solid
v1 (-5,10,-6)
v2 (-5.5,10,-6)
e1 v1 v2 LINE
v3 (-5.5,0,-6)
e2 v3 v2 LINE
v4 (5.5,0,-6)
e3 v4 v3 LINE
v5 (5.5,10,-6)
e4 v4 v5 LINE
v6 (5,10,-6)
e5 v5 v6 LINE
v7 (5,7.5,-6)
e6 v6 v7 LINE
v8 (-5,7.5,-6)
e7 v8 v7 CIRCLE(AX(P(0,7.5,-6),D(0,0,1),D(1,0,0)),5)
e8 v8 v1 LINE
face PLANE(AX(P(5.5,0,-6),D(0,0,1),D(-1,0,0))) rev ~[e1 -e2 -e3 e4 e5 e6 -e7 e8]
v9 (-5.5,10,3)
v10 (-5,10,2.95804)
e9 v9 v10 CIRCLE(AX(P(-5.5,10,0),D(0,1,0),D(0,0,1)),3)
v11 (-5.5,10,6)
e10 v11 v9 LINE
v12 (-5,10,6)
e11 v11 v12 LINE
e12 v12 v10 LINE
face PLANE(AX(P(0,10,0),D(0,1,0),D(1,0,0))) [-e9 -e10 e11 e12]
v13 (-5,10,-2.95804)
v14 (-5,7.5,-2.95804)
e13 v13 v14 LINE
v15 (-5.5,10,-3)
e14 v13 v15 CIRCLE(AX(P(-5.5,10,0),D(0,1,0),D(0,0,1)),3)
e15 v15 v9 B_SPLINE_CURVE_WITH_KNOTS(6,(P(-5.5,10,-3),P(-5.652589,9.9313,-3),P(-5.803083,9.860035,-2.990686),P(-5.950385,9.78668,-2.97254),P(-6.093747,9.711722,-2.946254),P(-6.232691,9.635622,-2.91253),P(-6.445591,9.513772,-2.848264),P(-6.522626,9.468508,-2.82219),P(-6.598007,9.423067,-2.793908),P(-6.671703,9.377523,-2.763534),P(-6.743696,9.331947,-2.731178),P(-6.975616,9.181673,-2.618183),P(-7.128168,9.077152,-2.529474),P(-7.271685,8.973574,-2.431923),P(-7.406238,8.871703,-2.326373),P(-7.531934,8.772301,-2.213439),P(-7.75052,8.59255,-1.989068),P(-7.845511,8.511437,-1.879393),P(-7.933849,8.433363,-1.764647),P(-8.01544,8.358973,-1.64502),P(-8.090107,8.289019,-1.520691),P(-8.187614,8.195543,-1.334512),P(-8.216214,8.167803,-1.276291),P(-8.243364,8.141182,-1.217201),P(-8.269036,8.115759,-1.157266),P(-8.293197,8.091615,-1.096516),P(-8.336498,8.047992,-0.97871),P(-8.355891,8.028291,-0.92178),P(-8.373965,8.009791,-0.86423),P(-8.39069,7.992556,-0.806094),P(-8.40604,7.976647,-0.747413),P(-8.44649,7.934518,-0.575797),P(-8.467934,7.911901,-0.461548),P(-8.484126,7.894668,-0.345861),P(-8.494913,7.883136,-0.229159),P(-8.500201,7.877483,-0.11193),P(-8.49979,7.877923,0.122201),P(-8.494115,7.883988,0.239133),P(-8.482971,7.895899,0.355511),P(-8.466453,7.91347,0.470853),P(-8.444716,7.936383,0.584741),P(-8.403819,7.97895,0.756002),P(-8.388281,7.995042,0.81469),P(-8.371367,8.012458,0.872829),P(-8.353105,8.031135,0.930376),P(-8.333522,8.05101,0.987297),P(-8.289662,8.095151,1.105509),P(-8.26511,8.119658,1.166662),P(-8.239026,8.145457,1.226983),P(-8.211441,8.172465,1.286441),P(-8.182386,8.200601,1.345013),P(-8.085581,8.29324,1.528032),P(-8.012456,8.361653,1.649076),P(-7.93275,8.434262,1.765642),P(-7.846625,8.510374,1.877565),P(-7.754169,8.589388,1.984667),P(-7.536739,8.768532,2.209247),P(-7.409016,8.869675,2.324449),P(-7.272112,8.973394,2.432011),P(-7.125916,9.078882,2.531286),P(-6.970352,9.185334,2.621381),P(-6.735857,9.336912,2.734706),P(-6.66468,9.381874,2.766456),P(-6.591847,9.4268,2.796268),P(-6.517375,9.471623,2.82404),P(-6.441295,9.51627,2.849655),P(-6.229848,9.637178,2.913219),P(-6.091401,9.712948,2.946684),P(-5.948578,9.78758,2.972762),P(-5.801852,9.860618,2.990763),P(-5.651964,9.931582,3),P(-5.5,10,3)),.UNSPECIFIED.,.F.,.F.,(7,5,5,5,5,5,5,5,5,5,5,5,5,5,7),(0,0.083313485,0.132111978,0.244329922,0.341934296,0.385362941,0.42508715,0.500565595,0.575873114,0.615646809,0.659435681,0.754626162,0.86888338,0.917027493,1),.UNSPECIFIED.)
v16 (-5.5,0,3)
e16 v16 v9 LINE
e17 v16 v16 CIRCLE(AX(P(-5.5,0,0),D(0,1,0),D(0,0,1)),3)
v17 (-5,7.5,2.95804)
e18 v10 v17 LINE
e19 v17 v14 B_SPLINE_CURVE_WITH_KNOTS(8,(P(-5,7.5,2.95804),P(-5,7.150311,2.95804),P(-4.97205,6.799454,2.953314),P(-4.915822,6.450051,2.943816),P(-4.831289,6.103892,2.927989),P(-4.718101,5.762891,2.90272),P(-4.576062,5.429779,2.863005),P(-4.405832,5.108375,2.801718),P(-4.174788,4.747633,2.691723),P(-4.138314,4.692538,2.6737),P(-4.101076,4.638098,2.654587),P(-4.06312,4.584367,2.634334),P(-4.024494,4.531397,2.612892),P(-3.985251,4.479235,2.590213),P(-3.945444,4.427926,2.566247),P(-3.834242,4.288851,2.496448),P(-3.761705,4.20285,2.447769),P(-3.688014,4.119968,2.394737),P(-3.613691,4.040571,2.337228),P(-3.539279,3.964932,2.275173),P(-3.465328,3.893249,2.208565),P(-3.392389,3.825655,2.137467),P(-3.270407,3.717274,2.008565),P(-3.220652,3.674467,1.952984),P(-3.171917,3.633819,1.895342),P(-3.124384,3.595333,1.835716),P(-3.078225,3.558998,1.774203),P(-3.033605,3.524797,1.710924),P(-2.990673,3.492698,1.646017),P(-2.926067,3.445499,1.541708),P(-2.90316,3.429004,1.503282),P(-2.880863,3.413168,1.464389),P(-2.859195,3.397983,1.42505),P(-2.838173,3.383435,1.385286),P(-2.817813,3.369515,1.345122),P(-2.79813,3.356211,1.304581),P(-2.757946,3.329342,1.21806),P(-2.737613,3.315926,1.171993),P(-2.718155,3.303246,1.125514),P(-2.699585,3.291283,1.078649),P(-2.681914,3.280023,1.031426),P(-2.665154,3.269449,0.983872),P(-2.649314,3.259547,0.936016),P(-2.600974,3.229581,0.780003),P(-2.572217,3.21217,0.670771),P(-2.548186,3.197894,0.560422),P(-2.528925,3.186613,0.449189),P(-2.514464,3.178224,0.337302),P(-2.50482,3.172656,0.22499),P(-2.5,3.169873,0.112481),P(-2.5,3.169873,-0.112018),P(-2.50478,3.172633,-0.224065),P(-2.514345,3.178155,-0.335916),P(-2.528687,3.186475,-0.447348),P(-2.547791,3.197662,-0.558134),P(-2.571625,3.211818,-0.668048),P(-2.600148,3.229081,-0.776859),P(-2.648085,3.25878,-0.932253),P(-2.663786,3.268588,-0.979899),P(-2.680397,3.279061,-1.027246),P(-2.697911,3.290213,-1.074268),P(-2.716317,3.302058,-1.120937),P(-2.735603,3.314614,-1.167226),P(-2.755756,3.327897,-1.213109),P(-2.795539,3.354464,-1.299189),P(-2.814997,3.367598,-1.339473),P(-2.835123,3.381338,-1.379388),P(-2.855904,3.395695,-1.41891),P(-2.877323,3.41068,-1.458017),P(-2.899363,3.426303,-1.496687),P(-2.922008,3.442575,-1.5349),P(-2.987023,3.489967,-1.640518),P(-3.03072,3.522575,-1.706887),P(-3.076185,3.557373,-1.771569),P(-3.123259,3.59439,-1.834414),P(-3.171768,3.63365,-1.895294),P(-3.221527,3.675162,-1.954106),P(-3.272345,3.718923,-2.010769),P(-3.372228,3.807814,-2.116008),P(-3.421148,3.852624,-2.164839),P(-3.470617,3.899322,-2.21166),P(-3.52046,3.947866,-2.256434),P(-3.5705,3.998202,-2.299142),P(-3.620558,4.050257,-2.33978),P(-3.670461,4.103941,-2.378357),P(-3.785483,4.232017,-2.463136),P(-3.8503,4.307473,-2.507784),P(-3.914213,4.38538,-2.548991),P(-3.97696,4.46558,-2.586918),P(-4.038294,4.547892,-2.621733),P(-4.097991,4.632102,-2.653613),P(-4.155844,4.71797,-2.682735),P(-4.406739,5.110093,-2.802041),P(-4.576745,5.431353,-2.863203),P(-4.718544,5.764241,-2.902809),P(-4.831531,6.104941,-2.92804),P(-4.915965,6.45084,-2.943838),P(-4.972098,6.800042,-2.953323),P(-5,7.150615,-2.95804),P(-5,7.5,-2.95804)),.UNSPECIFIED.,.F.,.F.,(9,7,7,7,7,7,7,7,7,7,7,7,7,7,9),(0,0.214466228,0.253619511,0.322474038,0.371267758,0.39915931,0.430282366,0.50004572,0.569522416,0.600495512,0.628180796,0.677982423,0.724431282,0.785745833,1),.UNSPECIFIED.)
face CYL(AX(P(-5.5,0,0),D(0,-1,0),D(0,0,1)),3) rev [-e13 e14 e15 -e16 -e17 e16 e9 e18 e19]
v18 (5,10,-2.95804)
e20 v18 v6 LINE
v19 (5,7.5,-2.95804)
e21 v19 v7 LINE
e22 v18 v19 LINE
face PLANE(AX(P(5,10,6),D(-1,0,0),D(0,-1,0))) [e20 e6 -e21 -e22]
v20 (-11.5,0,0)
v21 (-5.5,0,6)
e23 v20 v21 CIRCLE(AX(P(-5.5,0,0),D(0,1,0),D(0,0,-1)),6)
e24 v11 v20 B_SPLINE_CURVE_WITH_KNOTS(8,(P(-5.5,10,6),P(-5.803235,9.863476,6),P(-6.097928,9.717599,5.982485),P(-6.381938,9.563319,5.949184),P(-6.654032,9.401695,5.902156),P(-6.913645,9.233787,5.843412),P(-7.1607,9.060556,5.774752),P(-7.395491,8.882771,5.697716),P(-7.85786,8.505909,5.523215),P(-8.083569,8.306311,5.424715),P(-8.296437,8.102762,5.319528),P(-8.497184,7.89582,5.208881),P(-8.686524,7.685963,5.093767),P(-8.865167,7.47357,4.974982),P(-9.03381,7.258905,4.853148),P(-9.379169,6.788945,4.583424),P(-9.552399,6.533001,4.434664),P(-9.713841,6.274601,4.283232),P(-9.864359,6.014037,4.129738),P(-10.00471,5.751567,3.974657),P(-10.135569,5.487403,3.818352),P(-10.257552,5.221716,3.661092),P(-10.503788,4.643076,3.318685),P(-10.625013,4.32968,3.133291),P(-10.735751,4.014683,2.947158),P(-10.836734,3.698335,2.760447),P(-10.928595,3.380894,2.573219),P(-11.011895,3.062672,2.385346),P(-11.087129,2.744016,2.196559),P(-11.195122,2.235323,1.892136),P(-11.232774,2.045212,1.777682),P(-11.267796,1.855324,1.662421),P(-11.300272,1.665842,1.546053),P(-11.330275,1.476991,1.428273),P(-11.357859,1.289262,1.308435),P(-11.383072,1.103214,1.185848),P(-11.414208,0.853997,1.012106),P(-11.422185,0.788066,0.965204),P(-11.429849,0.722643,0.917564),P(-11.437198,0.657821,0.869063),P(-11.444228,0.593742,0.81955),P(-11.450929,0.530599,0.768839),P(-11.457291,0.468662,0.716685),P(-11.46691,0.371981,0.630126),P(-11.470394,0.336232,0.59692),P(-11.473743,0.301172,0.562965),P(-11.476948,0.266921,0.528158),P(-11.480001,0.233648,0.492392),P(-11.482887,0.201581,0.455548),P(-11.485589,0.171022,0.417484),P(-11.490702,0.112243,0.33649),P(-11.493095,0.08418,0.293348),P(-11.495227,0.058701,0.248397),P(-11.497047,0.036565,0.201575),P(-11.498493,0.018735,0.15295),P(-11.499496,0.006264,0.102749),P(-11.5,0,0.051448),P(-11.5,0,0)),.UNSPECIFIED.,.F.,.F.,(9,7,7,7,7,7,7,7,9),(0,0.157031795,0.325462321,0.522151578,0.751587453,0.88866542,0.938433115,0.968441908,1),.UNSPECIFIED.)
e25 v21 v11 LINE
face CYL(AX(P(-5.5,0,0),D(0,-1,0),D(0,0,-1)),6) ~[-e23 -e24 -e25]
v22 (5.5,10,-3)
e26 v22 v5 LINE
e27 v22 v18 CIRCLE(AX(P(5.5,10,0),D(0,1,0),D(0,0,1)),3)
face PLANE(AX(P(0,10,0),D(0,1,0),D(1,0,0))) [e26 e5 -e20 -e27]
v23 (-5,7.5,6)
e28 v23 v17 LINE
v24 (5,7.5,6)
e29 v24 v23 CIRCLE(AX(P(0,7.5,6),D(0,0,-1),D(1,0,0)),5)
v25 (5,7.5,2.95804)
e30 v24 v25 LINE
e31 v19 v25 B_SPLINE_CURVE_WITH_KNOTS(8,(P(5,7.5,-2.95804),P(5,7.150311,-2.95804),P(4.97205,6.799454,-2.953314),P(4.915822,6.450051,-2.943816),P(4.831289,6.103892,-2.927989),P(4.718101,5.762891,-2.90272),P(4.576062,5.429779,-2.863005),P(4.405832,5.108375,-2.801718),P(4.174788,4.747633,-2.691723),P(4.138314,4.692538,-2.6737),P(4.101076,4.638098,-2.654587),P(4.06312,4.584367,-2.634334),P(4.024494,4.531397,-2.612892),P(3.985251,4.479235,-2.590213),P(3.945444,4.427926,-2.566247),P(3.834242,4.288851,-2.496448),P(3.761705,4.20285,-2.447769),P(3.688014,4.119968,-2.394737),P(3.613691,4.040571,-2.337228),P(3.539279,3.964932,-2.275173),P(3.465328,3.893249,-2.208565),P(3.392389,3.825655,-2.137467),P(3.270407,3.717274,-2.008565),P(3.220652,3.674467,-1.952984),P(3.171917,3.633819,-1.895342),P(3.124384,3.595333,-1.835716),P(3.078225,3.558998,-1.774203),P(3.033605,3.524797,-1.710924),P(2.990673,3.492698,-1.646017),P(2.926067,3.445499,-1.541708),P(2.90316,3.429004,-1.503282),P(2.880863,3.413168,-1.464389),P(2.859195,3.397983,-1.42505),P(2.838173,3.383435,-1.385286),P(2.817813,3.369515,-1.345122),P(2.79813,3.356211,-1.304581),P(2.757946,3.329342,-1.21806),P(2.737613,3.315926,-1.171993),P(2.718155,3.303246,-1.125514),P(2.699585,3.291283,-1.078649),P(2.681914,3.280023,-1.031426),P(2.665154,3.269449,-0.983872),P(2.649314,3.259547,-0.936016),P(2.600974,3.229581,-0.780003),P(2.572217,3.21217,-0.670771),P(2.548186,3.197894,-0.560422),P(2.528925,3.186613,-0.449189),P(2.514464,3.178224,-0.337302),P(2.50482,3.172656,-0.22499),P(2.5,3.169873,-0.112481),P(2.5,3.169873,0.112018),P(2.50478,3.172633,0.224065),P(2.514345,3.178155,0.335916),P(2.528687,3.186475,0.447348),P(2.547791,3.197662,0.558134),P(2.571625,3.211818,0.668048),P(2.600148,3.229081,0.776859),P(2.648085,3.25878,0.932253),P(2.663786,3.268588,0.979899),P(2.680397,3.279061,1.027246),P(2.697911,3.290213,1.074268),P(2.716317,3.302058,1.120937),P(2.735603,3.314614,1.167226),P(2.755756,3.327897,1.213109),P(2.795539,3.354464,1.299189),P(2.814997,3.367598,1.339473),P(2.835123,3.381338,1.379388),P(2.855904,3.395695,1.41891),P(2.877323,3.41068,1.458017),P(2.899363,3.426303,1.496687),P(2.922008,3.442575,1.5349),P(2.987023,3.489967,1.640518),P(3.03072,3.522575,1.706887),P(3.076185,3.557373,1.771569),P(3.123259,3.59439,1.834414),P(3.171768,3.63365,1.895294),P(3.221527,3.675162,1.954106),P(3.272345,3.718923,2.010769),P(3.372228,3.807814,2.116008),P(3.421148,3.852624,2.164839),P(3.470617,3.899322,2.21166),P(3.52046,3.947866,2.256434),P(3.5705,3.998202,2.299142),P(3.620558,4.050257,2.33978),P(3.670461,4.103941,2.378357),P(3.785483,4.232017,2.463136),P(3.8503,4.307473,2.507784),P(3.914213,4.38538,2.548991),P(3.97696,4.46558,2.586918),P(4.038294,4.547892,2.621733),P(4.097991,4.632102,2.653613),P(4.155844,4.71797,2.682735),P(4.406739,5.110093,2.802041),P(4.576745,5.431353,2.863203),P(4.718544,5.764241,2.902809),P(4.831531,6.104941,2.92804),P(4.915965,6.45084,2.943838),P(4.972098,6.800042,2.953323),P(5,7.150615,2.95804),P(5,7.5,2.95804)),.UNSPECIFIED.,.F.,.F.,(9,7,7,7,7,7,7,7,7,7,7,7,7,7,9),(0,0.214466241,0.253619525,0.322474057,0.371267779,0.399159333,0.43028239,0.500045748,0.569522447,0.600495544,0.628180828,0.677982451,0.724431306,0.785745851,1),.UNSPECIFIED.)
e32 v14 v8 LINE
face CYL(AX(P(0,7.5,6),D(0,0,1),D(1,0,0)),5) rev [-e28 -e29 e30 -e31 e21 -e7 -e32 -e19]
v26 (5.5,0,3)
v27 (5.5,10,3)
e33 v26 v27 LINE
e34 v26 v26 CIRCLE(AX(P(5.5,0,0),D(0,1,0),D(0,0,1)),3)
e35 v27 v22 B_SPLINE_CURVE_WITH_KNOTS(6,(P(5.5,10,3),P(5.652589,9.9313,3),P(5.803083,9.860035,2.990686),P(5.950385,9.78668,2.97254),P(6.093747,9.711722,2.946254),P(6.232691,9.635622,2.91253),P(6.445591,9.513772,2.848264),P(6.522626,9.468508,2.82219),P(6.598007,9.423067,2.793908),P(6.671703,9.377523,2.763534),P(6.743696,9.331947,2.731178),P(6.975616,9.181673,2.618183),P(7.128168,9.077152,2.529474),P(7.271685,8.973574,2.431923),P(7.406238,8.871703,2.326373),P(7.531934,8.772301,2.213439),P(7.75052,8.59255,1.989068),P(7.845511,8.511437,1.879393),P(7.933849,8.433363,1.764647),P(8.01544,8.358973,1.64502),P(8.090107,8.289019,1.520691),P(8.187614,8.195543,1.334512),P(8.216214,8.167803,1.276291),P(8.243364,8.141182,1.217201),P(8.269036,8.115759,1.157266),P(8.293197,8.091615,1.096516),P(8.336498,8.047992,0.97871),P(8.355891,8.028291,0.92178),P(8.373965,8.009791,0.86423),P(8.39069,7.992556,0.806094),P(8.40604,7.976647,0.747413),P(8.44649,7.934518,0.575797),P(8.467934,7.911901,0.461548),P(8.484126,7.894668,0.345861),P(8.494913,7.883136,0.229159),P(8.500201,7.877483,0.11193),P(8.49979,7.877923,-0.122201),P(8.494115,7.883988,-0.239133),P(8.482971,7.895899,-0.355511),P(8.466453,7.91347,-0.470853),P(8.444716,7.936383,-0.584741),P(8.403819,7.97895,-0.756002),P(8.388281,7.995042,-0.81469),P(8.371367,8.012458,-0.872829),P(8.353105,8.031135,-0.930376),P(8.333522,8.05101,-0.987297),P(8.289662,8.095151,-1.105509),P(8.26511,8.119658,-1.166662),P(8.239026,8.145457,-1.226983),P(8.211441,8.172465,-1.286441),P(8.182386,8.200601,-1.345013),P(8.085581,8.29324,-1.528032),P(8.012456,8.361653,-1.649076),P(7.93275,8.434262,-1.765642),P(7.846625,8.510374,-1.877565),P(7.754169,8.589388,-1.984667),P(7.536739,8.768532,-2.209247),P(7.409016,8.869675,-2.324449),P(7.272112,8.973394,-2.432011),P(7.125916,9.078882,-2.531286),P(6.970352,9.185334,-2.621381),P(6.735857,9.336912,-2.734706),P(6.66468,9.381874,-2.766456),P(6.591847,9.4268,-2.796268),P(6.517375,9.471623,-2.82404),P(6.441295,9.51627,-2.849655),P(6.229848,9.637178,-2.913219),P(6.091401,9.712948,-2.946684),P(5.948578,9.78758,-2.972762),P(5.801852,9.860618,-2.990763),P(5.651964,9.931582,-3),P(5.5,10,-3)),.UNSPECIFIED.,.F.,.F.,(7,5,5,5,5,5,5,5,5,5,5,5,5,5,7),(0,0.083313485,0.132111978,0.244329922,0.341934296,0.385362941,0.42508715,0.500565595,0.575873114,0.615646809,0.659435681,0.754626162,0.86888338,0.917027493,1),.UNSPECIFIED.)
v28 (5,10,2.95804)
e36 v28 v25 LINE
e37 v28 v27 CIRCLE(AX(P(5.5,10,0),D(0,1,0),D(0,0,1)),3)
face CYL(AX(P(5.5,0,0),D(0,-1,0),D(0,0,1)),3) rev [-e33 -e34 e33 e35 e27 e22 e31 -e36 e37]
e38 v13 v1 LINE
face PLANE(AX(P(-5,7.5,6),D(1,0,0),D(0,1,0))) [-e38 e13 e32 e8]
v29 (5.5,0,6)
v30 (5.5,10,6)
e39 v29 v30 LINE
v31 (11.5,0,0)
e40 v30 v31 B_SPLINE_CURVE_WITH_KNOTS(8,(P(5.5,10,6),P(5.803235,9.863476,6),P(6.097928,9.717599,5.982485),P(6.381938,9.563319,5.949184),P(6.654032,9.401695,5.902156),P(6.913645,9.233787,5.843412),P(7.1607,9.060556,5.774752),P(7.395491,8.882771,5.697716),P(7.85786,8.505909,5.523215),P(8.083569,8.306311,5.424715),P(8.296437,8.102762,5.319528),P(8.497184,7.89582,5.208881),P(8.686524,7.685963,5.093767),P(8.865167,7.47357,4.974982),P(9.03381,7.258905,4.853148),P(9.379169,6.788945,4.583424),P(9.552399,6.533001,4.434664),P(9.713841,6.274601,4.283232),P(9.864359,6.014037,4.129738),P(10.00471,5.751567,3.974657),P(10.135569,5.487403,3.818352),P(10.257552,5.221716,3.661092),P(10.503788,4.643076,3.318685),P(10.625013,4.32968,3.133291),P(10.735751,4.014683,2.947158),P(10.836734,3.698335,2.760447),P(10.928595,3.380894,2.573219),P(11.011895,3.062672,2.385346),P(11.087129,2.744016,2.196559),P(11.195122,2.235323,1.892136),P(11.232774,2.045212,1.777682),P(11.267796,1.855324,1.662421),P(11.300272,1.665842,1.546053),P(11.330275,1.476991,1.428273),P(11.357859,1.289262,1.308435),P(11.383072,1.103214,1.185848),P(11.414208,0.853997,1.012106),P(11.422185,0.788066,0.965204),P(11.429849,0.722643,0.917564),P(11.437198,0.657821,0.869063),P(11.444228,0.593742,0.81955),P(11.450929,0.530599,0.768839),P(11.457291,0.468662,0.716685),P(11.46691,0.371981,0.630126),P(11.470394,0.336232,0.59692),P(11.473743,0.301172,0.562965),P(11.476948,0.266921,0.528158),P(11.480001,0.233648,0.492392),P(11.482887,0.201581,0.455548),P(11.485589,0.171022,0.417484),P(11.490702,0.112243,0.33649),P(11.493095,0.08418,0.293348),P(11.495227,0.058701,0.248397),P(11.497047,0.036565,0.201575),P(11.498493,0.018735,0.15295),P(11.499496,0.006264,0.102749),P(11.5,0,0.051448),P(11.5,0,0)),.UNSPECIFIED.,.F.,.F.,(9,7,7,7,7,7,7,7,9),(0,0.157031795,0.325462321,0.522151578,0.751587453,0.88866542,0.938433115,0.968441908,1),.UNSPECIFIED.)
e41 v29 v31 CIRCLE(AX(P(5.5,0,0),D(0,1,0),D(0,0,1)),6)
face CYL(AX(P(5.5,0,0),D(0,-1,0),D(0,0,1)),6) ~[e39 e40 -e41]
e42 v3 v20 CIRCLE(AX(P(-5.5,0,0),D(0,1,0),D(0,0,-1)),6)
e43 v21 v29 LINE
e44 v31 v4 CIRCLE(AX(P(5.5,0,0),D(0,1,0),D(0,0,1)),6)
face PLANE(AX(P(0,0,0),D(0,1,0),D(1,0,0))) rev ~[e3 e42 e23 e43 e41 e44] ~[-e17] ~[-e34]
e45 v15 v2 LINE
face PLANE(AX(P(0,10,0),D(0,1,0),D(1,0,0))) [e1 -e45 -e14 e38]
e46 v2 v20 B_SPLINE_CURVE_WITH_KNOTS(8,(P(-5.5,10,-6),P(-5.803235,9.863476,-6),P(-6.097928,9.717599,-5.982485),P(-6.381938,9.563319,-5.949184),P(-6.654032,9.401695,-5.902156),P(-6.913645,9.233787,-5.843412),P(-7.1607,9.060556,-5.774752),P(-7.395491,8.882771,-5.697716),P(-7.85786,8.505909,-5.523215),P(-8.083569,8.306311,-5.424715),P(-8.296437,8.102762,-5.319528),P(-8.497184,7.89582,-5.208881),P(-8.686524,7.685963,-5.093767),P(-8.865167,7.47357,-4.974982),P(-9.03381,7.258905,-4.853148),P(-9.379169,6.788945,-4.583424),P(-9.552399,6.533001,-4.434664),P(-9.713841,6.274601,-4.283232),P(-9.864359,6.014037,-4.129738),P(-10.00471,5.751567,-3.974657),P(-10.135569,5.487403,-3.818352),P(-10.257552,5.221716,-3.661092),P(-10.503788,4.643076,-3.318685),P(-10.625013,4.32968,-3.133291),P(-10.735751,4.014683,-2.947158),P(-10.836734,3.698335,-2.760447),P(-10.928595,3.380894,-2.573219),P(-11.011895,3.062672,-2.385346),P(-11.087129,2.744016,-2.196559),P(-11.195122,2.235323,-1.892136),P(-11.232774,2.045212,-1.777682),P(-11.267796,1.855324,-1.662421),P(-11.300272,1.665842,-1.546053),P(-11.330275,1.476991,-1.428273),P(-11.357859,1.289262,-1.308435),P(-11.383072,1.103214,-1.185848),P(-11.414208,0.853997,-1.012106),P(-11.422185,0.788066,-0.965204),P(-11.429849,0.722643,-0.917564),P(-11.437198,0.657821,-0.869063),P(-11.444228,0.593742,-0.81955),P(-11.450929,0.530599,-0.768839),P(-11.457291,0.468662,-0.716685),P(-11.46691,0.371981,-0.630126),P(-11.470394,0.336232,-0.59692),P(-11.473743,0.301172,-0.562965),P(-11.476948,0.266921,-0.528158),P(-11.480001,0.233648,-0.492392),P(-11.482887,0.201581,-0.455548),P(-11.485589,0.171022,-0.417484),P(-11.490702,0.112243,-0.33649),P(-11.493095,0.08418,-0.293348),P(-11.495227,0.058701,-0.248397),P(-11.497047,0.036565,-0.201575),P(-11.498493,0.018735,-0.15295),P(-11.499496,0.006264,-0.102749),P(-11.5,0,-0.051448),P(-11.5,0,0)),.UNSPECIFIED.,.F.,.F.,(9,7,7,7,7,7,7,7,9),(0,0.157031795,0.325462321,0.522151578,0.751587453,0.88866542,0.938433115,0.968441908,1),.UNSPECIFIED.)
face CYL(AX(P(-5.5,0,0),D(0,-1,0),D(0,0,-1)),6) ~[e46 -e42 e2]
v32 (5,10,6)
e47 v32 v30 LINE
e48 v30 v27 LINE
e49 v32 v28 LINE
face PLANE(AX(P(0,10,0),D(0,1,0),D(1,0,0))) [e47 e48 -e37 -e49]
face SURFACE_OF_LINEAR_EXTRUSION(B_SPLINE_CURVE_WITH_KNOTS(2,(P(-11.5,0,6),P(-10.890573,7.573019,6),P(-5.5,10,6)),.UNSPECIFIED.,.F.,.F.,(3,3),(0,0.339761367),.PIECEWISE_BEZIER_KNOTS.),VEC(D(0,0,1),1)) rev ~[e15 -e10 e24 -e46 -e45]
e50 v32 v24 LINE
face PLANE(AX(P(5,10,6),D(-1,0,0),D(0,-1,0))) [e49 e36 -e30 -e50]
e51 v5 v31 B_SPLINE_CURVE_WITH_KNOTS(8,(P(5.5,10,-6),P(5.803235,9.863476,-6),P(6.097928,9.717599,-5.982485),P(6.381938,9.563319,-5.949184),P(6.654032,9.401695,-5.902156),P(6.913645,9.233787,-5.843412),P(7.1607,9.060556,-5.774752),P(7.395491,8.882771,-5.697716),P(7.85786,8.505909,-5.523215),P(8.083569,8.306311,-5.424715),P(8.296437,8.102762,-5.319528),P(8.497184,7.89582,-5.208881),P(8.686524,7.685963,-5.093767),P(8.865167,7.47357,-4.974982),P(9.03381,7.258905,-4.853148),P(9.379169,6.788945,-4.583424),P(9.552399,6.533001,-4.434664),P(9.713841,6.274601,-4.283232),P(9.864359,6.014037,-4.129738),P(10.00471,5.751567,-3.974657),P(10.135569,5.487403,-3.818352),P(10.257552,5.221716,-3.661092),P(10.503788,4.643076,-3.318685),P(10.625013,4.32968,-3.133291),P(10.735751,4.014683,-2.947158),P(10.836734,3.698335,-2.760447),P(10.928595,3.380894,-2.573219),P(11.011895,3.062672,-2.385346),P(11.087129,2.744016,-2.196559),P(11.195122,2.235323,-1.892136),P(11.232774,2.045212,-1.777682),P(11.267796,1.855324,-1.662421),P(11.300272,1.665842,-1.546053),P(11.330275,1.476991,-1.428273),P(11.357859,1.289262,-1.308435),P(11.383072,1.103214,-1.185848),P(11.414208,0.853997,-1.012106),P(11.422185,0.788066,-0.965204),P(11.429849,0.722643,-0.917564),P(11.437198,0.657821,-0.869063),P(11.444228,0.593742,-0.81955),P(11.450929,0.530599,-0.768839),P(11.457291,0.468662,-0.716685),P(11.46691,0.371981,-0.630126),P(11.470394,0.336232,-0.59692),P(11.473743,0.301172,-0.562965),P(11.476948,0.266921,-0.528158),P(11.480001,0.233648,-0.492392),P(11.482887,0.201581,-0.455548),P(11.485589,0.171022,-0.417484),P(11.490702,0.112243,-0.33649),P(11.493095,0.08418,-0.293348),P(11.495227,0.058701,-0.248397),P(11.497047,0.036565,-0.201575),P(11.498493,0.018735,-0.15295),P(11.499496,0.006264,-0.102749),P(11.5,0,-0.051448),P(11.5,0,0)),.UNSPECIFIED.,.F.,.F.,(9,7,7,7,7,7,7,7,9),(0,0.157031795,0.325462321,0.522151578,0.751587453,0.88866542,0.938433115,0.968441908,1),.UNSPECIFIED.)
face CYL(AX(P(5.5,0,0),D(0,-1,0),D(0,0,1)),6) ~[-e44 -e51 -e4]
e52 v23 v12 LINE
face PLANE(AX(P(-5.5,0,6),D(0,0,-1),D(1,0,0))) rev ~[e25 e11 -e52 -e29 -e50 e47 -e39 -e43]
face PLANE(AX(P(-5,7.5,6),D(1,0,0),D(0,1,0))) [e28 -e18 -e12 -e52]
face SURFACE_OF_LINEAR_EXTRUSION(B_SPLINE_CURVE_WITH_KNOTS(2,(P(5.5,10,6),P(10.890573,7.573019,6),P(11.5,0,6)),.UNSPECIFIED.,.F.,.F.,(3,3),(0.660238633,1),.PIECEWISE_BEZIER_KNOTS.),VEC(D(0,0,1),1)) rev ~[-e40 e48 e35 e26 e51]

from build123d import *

# Parameters (mm, degrees)
ESBO_O1_R                = 3
RESSALTO_EXTRUS_O1_DEPTH = 10
CORTE_EXTRUS_O1_DEPTH    = 20.397164741
CORTE_EXTRUS_O2_DEPTH    = 20.397164855


with BuildPart() as part:
    # Esboço1 → Ressalto-extrusão1 (new body)
    with BuildSketch(Plane(origin=(0, 0, 0), x_dir=(1, 0, 0), z_dir=(0, 1, 0))):
        with BuildLine():
            Line((-5.5, -6), (5.5, -6))
            ThreePointArc((5.5, -6), (11.5, 0), (5.5, 6))
            Line((5.5, 6), (-5.5, 6))
            ThreePointArc((-5.5, 6), (-11.5, 0), (-5.5, -6))
        make_face()
        with Locations(Location((-5.5, 0, 0), (0, 0, 270))):
            Circle(ESBO_O1_R, mode=Mode.SUBTRACT)
        with Locations(Location((5.5, 0, 0), (0, 0, 270))):
            Circle(ESBO_O1_R, mode=Mode.SUBTRACT)
    extrude(amount=RESSALTO_EXTRUS_O1_DEPTH)

    # Esboço2 → Corte-extrusão1 (cut, through all)
    with BuildSketch(Plane.XY.offset(6)):
        with BuildLine():
            Line((-5, 7.5), (-5, 10))
            Line((-5, 10), (5, 10))
            Line((5, 10), (5, 7.5))
            ThreePointArc((5, 7.5), (0, 2.5), (-5, 7.5))
        make_face()
    extrude(amount=-CORTE_EXTRUS_O1_DEPTH, mode=Mode.SUBTRACT)

    # Esboço3 → Corte-extrusão2 (cut, through all)
    with BuildSketch(Plane.XY.offset(6)):
        with BuildLine():
            Line((-11.5, 10), (-11.5, 0))
            add(Edge.make_bspline(
                [(-11.5, 0), (-10.890573495, 7.573019438), (-5.5, 10)],
                knots=[0, 0, 0, 0.339761367, 0.339761367, 0.339761367], degree=2))
            Line((-5.5, 10), (-11.5, 10))
        make_face()
        with BuildLine():
            Line((11.5, 10), (5.5, 10))
            add(Edge.make_bspline(
                [(5.5, 10), (10.890573495, 7.573019438), (11.5, 0)],
                knots=[0.660238633, 0.660238633, 0.660238633, 1, 1, 1], degree=2))
            Line((11.5, 0), (11.5, 10))
        make_face()
    extrude(amount=-CORTE_EXTRUS_O2_DEPTH, mode=Mode.SUBTRACT)


solid = part.part
